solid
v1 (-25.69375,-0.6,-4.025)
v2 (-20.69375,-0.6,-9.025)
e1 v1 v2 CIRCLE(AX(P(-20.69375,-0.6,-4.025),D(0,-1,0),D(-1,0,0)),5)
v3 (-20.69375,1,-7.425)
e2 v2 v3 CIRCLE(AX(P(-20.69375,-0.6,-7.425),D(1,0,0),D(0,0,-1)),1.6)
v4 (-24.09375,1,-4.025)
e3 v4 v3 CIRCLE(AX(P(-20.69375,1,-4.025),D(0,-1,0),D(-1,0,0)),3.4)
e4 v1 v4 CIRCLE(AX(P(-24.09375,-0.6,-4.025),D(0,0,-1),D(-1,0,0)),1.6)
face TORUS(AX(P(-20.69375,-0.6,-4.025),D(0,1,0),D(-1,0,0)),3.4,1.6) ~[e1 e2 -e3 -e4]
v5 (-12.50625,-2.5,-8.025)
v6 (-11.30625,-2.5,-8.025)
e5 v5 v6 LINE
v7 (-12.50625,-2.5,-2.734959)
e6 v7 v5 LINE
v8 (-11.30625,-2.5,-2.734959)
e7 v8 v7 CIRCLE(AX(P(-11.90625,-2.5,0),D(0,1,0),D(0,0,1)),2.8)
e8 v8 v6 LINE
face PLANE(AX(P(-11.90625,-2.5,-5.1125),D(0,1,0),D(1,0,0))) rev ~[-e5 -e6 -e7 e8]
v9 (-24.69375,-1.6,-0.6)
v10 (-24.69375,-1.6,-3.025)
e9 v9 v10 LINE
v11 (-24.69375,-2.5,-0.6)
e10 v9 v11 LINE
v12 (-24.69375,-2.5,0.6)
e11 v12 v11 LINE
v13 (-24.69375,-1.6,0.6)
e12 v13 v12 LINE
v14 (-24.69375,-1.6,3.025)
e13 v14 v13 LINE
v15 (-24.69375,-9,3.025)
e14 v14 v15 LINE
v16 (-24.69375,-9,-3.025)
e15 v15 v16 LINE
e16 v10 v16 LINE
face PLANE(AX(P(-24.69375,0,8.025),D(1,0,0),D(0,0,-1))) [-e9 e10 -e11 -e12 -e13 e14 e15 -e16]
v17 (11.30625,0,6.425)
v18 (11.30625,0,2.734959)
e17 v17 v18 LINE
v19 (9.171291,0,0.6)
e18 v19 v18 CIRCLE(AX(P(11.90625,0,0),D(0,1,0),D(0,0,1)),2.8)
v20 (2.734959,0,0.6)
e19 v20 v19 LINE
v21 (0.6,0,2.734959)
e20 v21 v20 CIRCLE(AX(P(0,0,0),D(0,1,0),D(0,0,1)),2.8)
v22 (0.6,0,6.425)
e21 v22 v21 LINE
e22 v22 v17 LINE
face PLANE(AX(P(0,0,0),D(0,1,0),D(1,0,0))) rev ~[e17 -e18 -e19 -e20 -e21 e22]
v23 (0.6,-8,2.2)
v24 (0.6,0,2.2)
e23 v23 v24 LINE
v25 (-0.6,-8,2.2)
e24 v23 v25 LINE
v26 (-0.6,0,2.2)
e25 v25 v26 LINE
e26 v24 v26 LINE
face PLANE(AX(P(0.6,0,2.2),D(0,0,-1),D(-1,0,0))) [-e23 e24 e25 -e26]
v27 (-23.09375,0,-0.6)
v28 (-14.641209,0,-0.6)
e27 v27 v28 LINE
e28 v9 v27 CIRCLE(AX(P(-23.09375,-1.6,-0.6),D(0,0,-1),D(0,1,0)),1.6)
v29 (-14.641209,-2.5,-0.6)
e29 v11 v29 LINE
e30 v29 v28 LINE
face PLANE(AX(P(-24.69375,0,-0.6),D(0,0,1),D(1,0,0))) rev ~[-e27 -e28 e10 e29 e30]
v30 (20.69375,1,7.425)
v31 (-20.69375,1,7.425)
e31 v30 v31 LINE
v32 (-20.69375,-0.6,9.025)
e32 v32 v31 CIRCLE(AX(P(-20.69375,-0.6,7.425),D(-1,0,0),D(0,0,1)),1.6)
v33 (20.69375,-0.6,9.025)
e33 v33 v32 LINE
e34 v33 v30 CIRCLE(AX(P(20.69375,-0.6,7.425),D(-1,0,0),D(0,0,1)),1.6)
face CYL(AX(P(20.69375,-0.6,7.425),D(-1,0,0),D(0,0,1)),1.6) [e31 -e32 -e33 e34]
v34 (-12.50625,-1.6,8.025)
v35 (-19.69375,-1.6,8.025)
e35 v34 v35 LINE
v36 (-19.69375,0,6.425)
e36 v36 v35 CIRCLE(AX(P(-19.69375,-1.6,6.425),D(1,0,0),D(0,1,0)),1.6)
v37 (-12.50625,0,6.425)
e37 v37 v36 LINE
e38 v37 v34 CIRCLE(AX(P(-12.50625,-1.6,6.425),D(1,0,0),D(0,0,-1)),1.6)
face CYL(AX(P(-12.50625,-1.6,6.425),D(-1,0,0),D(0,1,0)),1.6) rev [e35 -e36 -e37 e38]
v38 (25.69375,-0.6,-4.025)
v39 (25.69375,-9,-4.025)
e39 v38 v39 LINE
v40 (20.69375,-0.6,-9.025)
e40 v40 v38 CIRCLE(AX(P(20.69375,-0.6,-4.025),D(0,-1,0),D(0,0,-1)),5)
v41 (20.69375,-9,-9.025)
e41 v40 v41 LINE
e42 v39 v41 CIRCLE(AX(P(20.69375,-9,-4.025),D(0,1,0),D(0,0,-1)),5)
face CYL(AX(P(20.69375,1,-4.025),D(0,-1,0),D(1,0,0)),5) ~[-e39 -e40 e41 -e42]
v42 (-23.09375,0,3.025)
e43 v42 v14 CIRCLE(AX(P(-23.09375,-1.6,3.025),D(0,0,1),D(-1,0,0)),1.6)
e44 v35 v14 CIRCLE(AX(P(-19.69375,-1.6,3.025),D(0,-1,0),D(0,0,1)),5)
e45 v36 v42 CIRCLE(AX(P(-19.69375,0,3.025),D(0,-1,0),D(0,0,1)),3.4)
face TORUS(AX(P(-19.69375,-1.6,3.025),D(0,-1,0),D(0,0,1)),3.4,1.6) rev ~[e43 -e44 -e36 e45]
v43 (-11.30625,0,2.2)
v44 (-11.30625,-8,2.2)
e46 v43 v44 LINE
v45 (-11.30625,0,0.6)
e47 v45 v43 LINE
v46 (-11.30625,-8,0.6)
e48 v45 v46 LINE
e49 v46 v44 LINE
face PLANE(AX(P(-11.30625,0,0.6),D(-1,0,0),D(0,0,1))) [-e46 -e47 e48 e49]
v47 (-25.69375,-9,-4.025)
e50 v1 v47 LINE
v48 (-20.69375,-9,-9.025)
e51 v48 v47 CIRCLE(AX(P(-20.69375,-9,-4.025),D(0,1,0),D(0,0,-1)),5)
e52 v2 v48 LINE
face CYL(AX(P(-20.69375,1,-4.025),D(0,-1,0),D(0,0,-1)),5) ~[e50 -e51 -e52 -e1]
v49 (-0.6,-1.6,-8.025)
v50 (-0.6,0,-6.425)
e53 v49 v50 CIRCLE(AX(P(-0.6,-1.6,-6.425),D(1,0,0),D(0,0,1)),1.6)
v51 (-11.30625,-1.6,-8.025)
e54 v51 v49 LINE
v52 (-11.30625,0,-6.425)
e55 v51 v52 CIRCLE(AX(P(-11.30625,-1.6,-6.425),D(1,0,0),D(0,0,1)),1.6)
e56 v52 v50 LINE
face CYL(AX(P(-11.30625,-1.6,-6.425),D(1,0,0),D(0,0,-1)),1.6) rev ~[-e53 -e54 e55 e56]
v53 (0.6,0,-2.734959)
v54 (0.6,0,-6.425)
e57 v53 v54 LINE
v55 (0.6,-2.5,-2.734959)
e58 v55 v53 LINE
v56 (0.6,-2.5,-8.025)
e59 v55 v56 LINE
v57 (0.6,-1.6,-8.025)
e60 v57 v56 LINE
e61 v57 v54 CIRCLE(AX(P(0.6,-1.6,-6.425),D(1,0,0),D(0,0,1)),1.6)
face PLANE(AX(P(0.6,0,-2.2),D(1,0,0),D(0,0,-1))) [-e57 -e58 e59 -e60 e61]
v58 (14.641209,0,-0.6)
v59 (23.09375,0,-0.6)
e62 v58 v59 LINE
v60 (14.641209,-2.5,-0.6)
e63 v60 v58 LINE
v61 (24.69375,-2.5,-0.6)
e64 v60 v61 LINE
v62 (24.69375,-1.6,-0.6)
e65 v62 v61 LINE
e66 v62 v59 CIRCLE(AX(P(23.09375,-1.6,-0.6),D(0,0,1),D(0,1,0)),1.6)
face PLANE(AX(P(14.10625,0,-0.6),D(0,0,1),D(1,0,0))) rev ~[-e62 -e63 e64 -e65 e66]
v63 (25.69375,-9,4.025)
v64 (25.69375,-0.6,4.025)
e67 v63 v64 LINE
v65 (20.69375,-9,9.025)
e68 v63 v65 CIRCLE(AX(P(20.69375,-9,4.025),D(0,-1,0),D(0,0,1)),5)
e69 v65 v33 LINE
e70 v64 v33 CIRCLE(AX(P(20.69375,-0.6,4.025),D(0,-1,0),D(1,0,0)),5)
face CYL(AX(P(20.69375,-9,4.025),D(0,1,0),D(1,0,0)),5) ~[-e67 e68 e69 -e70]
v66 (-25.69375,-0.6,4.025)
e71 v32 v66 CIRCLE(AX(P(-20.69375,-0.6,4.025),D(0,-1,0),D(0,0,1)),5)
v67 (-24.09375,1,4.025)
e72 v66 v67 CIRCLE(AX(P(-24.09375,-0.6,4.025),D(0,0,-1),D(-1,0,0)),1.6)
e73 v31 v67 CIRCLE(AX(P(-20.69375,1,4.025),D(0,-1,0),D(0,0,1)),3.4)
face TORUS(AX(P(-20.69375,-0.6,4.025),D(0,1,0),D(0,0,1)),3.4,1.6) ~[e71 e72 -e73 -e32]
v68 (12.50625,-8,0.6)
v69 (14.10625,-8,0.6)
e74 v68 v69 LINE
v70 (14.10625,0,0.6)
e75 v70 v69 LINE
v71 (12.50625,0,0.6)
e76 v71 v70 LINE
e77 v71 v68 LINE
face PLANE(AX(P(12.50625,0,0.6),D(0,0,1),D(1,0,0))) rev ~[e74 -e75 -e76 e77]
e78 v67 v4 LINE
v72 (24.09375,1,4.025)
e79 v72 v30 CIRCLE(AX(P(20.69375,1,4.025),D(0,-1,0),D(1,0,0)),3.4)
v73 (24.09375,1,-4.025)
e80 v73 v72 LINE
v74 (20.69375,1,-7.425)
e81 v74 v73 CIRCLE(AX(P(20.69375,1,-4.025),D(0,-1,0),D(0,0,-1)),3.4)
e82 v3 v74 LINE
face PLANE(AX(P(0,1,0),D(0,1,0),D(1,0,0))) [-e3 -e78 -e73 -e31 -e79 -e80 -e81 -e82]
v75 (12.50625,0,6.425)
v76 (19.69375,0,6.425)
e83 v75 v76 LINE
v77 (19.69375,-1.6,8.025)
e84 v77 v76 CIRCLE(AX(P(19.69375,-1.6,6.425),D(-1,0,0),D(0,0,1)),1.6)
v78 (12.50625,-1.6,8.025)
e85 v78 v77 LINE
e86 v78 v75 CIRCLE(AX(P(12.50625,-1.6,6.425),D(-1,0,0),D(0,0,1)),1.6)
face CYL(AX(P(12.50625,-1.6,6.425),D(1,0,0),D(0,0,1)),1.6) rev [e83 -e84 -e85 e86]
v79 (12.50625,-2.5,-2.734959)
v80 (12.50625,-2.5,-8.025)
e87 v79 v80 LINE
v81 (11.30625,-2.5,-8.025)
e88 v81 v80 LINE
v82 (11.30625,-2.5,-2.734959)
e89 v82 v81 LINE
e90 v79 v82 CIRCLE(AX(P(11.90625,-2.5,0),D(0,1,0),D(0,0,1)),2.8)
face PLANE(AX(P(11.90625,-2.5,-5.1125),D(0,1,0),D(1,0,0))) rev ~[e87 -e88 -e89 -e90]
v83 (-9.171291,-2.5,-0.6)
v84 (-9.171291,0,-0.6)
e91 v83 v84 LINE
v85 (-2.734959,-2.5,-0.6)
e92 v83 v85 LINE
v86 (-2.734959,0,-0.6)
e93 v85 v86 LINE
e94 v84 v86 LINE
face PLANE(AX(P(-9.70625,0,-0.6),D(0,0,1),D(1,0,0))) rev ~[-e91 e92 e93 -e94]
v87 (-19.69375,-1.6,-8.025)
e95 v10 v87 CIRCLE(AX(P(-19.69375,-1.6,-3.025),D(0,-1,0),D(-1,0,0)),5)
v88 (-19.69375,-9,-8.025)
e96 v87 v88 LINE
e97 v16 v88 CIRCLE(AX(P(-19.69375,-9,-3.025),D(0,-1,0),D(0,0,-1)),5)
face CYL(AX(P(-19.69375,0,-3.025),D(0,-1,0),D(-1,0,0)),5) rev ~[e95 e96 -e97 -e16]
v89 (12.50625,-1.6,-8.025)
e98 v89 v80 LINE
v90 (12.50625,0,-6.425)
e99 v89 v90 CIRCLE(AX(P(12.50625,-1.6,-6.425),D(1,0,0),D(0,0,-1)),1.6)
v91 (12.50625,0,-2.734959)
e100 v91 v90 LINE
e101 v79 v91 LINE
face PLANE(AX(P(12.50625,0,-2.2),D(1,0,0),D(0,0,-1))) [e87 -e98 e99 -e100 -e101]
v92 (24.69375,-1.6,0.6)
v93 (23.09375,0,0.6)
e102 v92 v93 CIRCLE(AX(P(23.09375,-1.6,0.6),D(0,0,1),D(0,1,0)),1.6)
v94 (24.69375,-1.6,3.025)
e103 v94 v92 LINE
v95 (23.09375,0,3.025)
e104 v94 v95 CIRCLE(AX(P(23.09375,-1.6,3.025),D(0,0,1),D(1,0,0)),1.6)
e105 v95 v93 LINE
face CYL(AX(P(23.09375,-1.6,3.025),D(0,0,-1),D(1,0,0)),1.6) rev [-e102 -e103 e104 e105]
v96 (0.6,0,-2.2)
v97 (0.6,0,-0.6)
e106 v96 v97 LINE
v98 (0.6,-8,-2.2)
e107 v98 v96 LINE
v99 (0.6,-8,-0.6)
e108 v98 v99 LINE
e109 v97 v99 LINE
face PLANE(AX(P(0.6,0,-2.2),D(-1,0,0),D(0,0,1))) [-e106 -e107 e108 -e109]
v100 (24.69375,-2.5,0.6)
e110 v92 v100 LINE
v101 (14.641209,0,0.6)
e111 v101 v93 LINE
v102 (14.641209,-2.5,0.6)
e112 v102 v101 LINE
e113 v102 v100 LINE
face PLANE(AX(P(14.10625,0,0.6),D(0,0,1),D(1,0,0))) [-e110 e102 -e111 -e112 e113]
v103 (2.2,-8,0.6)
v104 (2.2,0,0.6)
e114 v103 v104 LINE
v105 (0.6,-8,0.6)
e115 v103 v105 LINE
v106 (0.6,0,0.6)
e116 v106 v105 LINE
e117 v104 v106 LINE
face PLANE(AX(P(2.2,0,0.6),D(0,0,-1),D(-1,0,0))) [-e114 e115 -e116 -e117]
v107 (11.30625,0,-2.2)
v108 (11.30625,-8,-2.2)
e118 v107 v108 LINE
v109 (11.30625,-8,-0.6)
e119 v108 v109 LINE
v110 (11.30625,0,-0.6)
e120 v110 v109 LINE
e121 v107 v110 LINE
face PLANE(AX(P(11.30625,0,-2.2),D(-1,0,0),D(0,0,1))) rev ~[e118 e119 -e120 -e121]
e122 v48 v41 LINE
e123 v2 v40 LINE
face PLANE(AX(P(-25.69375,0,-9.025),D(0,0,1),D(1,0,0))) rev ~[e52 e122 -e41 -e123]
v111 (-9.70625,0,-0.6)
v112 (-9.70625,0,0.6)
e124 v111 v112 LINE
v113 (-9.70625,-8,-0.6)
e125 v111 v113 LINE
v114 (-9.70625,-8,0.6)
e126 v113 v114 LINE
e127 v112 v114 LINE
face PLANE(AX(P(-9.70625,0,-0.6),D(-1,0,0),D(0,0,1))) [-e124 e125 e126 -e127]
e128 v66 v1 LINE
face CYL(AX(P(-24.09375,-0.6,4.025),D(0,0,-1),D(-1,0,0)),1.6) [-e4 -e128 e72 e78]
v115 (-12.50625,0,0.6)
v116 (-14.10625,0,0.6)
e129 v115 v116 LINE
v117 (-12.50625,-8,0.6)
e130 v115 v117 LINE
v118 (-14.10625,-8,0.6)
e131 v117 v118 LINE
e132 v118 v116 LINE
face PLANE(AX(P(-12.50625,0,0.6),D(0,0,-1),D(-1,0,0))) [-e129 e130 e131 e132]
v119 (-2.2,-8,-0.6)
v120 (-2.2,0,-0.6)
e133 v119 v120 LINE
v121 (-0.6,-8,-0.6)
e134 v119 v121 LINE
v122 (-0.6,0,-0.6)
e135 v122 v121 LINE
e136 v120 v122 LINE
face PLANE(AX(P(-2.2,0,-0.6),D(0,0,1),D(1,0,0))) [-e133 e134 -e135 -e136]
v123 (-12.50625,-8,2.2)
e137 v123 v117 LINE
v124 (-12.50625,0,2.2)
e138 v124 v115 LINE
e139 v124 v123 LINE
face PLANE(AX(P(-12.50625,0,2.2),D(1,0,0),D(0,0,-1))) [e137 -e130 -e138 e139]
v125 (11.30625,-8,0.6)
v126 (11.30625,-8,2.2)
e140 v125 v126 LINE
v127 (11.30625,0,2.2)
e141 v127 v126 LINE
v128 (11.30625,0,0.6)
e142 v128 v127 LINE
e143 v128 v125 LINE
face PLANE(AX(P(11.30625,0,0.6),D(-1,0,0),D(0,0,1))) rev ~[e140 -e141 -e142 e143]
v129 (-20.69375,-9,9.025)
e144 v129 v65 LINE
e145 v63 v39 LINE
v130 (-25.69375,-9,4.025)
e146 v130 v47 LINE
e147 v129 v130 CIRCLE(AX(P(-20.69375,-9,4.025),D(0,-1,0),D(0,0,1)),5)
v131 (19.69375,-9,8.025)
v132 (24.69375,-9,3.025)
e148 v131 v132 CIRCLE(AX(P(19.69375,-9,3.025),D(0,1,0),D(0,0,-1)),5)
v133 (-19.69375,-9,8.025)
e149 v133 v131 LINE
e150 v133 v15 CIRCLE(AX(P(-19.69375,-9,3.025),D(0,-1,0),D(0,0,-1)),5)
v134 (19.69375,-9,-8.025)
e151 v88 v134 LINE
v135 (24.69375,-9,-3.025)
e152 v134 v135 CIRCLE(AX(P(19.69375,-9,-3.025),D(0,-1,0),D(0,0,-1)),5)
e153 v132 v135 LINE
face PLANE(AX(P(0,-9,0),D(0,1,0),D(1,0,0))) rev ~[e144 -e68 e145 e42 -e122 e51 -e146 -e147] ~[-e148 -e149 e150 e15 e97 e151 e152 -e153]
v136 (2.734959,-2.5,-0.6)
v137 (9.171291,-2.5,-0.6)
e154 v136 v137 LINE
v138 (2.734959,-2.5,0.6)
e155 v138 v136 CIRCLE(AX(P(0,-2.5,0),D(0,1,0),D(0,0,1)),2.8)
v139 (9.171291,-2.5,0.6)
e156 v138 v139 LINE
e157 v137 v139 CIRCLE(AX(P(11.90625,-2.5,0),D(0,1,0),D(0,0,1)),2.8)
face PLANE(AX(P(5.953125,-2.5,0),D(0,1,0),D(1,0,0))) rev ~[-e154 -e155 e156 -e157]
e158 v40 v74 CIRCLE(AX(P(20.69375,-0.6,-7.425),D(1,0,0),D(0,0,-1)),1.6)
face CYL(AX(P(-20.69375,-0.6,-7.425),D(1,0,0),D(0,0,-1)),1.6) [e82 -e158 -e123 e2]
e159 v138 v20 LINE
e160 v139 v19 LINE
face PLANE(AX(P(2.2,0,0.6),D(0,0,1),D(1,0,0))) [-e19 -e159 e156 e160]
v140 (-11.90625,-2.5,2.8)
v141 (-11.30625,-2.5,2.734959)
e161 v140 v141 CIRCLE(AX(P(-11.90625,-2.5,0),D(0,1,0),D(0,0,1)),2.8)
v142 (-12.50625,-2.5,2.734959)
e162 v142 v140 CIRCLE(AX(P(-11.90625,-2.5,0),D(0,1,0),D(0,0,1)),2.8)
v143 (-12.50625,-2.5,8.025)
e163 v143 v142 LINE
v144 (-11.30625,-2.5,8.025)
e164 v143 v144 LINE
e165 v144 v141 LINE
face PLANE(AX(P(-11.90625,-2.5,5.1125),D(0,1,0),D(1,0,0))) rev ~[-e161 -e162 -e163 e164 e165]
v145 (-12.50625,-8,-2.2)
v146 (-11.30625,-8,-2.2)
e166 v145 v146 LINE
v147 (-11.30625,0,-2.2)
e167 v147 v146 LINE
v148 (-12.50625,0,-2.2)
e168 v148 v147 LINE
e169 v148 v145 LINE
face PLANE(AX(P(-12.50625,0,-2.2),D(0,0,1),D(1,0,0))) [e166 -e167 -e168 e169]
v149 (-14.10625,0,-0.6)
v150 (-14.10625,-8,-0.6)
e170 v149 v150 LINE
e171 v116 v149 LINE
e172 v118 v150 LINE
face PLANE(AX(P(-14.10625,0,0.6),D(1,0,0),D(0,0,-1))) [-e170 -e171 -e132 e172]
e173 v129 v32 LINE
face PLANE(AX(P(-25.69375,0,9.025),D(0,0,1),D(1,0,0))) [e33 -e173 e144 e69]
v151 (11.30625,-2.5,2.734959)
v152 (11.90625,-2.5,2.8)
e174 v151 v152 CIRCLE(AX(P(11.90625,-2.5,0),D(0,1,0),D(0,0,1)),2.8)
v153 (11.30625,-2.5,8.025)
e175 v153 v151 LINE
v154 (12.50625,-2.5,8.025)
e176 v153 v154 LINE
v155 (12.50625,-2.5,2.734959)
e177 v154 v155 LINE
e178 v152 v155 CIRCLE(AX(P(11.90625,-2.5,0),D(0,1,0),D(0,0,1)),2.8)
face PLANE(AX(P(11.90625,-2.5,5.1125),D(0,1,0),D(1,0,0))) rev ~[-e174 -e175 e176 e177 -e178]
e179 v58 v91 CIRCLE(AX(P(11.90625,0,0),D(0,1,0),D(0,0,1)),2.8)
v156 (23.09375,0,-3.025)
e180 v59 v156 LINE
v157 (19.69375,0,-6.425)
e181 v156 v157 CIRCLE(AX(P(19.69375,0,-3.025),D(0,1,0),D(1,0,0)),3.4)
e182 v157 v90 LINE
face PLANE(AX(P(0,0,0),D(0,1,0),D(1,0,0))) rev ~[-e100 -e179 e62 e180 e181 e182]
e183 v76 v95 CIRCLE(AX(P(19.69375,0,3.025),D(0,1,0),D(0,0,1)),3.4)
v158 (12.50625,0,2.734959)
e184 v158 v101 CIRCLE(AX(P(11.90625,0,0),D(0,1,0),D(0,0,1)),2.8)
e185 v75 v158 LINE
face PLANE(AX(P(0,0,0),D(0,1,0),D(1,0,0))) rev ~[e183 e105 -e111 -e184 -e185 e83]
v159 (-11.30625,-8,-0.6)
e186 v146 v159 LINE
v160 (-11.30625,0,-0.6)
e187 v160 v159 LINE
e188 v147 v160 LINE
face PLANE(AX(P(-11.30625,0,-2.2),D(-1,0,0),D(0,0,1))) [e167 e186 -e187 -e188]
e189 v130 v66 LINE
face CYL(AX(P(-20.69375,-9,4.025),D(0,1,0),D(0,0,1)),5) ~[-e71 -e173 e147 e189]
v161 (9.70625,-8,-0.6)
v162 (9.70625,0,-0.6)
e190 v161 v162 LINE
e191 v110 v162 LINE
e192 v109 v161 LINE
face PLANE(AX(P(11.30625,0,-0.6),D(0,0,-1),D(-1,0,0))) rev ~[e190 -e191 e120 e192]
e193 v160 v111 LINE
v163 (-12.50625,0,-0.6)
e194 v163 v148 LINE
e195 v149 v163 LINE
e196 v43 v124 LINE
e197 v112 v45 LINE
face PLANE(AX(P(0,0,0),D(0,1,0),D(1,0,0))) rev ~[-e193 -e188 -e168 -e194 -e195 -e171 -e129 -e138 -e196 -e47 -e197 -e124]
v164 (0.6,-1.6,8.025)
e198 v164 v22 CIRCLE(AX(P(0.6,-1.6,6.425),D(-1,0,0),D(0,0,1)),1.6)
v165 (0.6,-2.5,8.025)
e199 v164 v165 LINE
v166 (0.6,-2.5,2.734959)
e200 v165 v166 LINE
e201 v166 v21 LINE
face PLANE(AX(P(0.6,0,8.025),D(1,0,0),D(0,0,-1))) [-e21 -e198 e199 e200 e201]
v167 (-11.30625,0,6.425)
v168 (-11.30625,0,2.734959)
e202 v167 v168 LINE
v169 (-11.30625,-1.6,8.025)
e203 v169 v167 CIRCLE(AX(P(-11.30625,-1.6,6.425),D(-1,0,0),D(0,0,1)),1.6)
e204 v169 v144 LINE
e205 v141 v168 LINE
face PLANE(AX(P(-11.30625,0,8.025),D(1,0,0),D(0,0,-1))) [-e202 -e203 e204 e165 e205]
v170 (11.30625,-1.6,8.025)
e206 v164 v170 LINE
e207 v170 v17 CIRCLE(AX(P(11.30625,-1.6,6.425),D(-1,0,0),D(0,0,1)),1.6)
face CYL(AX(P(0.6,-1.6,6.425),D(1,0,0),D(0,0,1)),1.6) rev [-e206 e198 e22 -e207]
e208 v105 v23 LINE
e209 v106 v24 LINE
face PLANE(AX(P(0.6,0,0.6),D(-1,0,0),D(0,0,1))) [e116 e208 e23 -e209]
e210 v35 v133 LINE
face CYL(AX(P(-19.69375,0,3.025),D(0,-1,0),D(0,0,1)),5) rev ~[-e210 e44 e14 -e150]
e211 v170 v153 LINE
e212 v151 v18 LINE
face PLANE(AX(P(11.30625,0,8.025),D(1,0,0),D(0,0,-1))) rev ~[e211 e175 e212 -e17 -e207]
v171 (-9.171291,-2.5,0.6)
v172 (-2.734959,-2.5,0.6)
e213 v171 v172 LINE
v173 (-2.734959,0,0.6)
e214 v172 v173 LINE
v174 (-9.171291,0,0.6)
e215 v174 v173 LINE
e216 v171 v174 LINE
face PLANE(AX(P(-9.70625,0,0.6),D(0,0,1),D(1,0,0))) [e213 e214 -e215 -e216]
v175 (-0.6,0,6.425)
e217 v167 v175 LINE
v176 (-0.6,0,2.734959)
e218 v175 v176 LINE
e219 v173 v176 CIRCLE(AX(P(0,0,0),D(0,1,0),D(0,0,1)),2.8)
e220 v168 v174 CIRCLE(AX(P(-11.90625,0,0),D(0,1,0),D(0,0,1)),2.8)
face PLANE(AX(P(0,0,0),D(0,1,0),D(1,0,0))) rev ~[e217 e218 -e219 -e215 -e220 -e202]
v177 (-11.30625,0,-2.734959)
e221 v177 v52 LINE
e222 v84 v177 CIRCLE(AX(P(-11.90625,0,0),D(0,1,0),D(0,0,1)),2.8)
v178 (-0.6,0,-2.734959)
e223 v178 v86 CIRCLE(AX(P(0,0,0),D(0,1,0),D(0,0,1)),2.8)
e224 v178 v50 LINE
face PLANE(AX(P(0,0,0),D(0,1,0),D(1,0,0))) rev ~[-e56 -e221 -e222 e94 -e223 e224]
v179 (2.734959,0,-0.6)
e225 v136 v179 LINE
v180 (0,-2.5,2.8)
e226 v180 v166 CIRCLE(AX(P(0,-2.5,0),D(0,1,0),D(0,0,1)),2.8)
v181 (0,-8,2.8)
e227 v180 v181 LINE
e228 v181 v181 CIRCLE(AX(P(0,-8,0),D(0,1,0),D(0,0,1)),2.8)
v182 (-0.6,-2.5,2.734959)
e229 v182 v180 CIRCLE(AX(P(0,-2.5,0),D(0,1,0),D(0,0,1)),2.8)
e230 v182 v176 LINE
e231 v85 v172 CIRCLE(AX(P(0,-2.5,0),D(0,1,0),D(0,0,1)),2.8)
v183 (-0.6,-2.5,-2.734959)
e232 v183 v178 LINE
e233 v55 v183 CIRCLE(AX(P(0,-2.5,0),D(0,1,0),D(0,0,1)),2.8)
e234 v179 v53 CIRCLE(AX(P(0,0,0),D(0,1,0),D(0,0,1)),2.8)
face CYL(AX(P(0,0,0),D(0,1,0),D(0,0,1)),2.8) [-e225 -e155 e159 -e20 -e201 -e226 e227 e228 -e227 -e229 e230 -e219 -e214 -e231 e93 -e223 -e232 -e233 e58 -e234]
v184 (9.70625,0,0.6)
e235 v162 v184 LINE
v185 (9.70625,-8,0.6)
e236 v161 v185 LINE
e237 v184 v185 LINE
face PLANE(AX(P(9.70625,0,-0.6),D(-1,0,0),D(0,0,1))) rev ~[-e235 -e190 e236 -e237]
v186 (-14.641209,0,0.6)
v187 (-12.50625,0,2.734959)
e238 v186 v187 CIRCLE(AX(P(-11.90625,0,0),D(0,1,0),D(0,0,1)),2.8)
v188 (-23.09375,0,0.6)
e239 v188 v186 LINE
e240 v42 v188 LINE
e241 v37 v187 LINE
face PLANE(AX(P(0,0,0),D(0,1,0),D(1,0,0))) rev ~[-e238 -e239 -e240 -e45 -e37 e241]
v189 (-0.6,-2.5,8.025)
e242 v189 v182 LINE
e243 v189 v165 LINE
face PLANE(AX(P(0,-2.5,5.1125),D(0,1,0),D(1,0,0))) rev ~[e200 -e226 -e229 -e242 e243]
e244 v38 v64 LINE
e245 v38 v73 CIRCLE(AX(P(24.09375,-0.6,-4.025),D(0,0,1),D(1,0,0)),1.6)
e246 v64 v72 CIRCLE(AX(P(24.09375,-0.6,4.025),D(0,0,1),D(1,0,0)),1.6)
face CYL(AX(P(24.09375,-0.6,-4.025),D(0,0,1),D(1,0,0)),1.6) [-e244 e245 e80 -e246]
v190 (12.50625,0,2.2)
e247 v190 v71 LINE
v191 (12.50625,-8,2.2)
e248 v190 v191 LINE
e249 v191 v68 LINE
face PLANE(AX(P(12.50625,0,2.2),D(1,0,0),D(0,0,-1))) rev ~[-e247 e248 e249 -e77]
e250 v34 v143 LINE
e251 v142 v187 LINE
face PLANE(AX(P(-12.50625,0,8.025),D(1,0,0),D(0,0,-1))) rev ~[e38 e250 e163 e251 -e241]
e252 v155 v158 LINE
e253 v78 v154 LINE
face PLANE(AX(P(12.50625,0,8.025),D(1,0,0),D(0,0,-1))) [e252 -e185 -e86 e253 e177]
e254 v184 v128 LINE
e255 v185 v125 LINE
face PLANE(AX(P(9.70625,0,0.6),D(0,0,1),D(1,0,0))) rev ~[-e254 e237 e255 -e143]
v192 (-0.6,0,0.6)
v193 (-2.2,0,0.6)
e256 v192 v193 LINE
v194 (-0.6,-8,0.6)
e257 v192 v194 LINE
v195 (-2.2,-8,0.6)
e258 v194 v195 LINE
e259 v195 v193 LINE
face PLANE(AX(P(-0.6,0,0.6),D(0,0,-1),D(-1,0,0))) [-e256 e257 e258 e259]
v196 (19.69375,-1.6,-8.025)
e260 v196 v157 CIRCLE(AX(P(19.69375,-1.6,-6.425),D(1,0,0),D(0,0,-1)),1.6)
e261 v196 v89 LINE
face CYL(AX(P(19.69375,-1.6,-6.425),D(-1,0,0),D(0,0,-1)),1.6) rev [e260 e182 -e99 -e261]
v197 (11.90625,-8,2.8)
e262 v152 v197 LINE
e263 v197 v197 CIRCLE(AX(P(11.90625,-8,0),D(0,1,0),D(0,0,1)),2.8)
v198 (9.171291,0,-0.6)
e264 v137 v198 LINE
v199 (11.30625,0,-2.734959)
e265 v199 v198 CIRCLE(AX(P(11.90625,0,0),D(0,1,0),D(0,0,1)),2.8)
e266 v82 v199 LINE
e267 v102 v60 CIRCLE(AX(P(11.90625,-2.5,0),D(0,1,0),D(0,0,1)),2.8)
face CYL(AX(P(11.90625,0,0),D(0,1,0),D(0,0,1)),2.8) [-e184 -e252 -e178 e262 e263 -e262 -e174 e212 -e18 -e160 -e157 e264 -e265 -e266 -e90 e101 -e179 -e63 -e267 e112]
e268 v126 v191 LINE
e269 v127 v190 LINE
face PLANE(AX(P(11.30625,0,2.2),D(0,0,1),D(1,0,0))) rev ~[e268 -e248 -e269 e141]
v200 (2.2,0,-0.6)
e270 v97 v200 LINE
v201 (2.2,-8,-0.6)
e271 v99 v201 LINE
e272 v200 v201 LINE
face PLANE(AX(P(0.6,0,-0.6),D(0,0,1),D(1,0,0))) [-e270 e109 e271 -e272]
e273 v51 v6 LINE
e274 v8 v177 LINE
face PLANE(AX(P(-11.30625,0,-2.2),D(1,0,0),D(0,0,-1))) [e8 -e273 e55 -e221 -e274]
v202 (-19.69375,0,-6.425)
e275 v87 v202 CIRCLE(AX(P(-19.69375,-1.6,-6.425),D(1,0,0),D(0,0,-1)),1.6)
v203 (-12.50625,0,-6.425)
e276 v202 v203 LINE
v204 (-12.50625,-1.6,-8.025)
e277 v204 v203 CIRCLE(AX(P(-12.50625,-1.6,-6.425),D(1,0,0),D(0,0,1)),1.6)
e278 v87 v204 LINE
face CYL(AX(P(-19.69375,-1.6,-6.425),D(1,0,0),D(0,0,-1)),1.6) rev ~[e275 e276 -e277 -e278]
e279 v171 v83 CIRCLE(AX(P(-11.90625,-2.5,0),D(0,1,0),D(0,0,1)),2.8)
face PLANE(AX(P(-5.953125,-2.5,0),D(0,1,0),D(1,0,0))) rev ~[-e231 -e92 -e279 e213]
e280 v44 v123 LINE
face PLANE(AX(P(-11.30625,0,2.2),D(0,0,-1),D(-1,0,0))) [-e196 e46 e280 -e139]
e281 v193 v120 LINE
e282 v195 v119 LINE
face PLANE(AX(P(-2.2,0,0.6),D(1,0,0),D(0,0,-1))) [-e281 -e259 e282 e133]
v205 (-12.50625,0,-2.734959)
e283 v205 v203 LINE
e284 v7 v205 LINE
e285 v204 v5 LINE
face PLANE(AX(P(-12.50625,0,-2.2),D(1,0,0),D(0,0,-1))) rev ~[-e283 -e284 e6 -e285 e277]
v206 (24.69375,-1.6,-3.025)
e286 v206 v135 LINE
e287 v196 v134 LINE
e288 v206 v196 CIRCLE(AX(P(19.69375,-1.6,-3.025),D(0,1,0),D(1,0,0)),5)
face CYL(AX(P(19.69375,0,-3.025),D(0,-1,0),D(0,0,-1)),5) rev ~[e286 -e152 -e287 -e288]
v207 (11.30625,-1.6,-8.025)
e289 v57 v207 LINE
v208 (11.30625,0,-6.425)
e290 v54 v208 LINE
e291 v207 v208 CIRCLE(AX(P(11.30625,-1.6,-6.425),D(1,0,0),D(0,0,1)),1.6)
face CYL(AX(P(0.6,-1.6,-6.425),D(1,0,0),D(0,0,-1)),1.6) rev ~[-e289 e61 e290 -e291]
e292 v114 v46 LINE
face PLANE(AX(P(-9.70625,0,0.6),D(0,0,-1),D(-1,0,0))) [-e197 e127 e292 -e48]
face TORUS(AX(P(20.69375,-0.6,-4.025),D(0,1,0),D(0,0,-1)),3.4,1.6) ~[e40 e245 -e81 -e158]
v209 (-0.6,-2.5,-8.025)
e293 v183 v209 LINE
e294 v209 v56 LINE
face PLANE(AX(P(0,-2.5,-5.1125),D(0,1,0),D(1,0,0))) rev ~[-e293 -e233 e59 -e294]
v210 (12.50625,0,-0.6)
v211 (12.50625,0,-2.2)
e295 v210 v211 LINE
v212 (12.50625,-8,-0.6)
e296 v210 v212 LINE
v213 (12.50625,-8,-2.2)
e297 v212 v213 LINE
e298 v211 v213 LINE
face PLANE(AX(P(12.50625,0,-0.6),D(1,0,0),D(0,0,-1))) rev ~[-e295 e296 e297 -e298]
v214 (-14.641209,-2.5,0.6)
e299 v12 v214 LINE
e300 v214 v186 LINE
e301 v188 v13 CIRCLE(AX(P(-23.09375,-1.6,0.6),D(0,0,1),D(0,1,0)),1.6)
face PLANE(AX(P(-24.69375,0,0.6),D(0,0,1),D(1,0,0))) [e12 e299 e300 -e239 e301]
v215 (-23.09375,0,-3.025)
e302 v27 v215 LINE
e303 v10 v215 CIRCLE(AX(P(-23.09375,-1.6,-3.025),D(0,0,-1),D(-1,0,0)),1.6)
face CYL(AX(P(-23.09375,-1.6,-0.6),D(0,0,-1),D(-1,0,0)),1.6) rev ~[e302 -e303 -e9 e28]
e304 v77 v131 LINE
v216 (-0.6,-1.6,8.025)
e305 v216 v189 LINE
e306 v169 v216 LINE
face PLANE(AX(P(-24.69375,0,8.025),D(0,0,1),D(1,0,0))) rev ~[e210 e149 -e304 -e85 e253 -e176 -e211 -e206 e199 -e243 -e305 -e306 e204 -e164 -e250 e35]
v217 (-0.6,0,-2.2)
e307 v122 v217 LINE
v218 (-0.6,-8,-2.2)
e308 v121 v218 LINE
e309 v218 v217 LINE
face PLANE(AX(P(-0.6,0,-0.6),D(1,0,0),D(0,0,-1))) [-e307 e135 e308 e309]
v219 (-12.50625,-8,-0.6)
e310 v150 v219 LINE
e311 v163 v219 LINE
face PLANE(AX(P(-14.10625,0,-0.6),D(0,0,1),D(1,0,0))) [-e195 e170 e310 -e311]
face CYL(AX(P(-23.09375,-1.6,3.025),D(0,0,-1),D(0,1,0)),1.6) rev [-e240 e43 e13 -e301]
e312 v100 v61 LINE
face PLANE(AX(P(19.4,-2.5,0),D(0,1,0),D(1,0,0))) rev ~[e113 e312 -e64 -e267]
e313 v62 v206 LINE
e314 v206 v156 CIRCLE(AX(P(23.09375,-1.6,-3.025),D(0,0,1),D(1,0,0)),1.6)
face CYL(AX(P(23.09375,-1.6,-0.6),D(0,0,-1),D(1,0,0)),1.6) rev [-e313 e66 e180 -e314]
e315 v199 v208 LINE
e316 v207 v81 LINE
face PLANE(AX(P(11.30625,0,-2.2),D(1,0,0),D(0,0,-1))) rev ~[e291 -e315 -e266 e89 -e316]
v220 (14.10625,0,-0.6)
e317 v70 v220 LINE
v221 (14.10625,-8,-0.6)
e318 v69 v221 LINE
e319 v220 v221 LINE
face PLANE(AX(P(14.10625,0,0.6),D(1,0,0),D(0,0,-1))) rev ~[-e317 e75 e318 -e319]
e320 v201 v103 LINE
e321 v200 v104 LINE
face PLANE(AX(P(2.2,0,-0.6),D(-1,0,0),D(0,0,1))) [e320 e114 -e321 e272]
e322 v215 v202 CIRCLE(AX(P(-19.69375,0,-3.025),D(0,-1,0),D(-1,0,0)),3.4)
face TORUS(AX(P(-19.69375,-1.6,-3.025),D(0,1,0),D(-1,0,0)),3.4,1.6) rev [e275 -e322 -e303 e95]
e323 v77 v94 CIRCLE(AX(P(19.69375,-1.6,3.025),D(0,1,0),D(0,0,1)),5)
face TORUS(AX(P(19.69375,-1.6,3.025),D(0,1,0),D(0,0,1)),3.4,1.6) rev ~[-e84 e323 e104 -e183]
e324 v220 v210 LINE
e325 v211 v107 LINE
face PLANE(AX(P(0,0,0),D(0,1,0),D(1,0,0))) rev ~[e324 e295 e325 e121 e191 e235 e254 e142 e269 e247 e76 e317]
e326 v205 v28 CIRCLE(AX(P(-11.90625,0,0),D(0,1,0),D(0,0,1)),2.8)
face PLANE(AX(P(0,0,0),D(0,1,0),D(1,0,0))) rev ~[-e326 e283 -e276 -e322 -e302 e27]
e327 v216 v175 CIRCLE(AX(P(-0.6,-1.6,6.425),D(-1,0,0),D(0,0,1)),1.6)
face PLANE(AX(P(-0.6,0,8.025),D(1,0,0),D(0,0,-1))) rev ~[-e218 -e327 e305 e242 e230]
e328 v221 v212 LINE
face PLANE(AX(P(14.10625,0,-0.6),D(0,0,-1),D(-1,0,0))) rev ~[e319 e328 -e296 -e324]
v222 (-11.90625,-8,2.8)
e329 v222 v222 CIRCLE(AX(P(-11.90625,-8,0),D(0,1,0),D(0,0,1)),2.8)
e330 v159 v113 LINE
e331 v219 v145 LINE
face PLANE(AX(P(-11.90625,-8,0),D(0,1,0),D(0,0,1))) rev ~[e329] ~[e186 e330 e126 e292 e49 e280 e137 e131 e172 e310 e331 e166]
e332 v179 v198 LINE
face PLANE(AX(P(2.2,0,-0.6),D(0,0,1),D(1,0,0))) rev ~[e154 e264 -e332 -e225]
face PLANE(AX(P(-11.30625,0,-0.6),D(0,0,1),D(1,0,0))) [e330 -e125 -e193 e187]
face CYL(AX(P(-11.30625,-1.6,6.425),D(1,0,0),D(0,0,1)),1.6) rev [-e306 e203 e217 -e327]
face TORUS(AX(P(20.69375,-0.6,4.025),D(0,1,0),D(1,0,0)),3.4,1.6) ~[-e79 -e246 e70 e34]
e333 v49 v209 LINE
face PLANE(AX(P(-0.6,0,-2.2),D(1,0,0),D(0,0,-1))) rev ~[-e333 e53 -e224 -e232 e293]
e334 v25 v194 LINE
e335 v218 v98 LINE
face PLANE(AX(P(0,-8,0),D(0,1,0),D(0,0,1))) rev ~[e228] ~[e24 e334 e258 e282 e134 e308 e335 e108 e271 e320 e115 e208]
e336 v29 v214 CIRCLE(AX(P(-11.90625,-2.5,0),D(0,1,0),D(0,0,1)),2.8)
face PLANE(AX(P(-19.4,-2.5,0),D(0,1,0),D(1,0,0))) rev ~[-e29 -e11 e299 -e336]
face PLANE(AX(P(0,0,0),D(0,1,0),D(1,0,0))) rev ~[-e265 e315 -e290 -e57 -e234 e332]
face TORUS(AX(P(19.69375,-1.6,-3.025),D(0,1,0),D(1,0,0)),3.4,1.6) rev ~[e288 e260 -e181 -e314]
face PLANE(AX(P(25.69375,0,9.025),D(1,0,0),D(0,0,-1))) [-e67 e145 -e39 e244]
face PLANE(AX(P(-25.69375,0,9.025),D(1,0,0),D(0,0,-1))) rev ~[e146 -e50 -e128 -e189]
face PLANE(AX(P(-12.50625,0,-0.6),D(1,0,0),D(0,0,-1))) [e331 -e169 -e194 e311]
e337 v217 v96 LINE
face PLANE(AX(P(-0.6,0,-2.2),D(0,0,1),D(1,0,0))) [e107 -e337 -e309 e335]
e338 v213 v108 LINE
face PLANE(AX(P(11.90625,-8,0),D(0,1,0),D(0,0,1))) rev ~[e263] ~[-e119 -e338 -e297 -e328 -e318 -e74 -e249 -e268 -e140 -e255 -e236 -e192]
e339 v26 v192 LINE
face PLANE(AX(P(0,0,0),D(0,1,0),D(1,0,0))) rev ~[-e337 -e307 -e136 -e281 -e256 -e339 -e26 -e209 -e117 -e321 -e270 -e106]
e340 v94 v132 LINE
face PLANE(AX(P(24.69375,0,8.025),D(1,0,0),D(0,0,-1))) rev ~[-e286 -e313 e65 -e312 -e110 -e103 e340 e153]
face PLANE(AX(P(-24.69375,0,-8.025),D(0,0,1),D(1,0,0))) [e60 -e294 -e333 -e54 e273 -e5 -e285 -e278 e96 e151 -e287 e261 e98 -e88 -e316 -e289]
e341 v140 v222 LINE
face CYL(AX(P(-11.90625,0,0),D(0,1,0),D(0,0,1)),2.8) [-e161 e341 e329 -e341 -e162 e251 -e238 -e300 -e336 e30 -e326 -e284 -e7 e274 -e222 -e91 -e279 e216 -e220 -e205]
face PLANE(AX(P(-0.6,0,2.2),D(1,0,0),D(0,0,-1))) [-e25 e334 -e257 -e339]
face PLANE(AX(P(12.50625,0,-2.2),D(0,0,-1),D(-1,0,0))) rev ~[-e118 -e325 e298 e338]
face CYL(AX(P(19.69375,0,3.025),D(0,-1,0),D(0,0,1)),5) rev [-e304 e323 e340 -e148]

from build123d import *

# Parameters (mm, degrees)
SKETCH_1_R        = 2.8
EXTRUDE_1_DEPTH   = 8
EXTRUDE_1_2_DEPTH = 8
EXTRUDE_1_3_DEPTH = 8
SKETCH_2_W        = 51.3875
SKETCH_2_H        = 18.05
EXTRUDE_2_DEPTH   = 1
SKETCH_3_W        = 51.3875
SKETCH_3_H        = 18.05
SKETCH_3_W_2      = 49.3875
SKETCH_3_H_2      = 16.05
EXTRUDE_3_DEPTH   = 9
SKETCH_4_W        = 7.50625
SKETCH_4_H        = 1.2
SKETCH_4_W_2      = 1.2
SKETCH_4_H_2      = 5.825
SKETCH_4_W_3      = 10.5875
EXTRUDE_4_DEPTH   = 2.5
FILLET_1_R        = 5
FILLET_2_R        = 1.6


with BuildPart() as part:
    # 草图1 → 凸台-拉伸1 (new body)
    with BuildSketch(Plane(origin=(0, 0, 0), x_dir=(1, 0, 0), z_dir=(0, 1, 0))):
        with Locations(Location((0, 0, 0), (0, 0, 270))):
            Circle(SKETCH_1_R)
        Polygon((2.2, 0.6), (2.2, -0.6), (0.6, -0.6), (0.6, -2.2), (-0.6, -2.2), (-0.6, -0.6), (-2.2, -0.6), (-2.2, 0.6), (-0.6, 0.6), (-0.6, 2.2), (0.6, 2.2), (0.6, 0.6), align=None, mode=Mode.SUBTRACT)
    extrude(amount=-EXTRUDE_1_DEPTH)

    # 草图2 → 凸台-拉伸2 (add)
    with BuildSketch(Plane(origin=(0, 0, 0), x_dir=(1, 0, 0), z_dir=(0, 1, 0))):
        Rectangle(SKETCH_2_W, SKETCH_2_H)
    extrude(amount=EXTRUDE_2_DEPTH)

    # 草图3 → 凸台-拉伸3 (add)
    with BuildSketch(Plane(origin=(0, 0, 0), x_dir=(1, 0, 0), z_dir=(0, 1, 0))):
        Rectangle(SKETCH_3_W, SKETCH_3_H)
        Rectangle(SKETCH_3_W_2, SKETCH_3_H_2, mode=Mode.SUBTRACT)
    extrude(amount=-EXTRUDE_3_DEPTH)



with BuildPart() as body_2:
    # 草图1 → Extrude 1 2 (new body)
    with BuildSketch(Plane(origin=(0, 0, 0), x_dir=(1, 0, 0), z_dir=(0, 1, 0))):
        with Locations(Location((-11.90625, 0, 0), (0, 0, 270))):
            Circle(SKETCH_1_R)
        Polygon((-14.10625, -0.6), (-14.10625, 0.6), (-12.50625, 0.6), (-12.50625, 2.2), (-11.30625, 2.2), (-11.30625, 0.6), (-9.70625, 0.6), (-9.70625, -0.6), (-11.30625, -0.6), (-11.30625, -2.2), (-12.50625, -2.2), (-12.50625, -0.6), align=None, mode=Mode.SUBTRACT)
    extrude(amount=-EXTRUDE_1_2_DEPTH)


with BuildPart() as body_3:
    # 草图1 → Extrude 1 3 (new body)
    with BuildSketch(Plane(origin=(0, 0, 0), x_dir=(1, 0, 0), z_dir=(0, 1, 0))):
        with Locations(Location((11.90625, 0, 0), (0, 0, 270))):
            Circle(SKETCH_1_R)
        Polygon((9.70625, 0.6), (9.70625, -0.6), (11.30625, -0.6), (11.30625, -2.2), (12.50625, -2.2), (12.50625, -0.6), (14.10625, -0.6), (14.10625, 0.6), (12.50625, 0.6), (12.50625, 2.2), (11.30625, 2.2), (11.30625, 0.6), align=None, mode=Mode.SUBTRACT)
    extrude(amount=-EXTRUDE_1_3_DEPTH)


with BuildPart() as part_1:
    add(part.part)

    add(body_2.part)  # 凸台-拉伸4 merges body 2

    add(body_3.part)  # 凸台-拉伸4 merges body 3
    # 草图4 → 凸台-拉伸4 (add)
    with BuildSketch(Plane(origin=(0, 0, 0), x_dir=(1, 0, 0), z_dir=(0, 1, 0))):
        with Locations((5.953125, 0)):
            Rectangle(SKETCH_4_W, SKETCH_4_H)
        with Locations((11.90625, 5.1125)):
            Rectangle(SKETCH_4_W_2, SKETCH_4_H_2)
        with Locations((11.90625, -5.1125)):
            Rectangle(SKETCH_4_W_2, SKETCH_4_H_2)
        with Locations((19.4, 0)):
            Rectangle(SKETCH_4_W_3, SKETCH_4_H)
        with Locations((0, 5.1125)):
            Rectangle(SKETCH_4_W_2, SKETCH_4_H_2)
        with Locations((-5.953125, 0)):
            Rectangle(SKETCH_4_W, SKETCH_4_H)
        with Locations((0, -5.1125)):
            Rectangle(SKETCH_4_W_2, SKETCH_4_H_2)
        with Locations((-11.90625, 5.1125)):
            Rectangle(SKETCH_4_W_2, SKETCH_4_H_2)
        with Locations((-11.90625, -5.1125)):
            Rectangle(SKETCH_4_W_2, SKETCH_4_H_2)
        with Locations((-19.4, 0)):
            Rectangle(SKETCH_4_W_3, SKETCH_4_H)
    extrude(amount=-EXTRUDE_4_DEPTH)

    # 圆角1
    fillet_1_edges = [part_1.edges().sort_by_distance(p)[0] for p in [
        (25.69375, -4, 9.025),
        (25.69375, -4, -9.025),
        (-25.69375, -4, -9.025),
        (-25.69375, -4, 9.025),
        (-24.69375, -4.5, 8.025),
        (-24.69375, -4.5, -8.025),
        (24.69375, -4.5, -8.025),
        (24.69375, -4.5, 8.025),
    ]]
    fillet(fillet_1_edges, radius=FILLET_1_R)

    # 圆角2
    fillet_2_edges = [part_1.edges().sort_by_distance(p)[0] for p in [
        (5.953125, 0, -8.025),
        (16.1, 0, 8.025),
        (24.69375, 0, -1.8125),
        (-5.953125, 0, -8.025),
        (5.953125, 0, 8.025),
        (-16.1, 0, -8.025),
        (-5.953125, 0, 8.025),
        (-24.69375, 0, 1.8125),
        (-25.69375, 1, 0),
        (0, 1, -9.025),
        (25.69375, 1, 0),
        (0, 1, 9.025),
        (-24.229283906, 1, 7.560533906),
        (24.229283906, 1, 7.560533906),
        (24.229283906, 1, -7.560533906),
        (-24.229283906, 1, -7.560533906),
        (-24.69375, 0, -1.8125),
        (-23.229283906, 0, -6.560533906),
        (16.1, 0, -8.025),
        (23.229283906, 0, -6.560533906),
        (24.69375, 0, 1.8125),
        (23.229283906, 0, 6.560533906),
        (-16.1, 0, 8.025),
        (-23.229283906, 0, 6.560533906),
    ]]
    fillet(fillet_2_edges, radius=FILLET_2_R)


solid = part_1.part
